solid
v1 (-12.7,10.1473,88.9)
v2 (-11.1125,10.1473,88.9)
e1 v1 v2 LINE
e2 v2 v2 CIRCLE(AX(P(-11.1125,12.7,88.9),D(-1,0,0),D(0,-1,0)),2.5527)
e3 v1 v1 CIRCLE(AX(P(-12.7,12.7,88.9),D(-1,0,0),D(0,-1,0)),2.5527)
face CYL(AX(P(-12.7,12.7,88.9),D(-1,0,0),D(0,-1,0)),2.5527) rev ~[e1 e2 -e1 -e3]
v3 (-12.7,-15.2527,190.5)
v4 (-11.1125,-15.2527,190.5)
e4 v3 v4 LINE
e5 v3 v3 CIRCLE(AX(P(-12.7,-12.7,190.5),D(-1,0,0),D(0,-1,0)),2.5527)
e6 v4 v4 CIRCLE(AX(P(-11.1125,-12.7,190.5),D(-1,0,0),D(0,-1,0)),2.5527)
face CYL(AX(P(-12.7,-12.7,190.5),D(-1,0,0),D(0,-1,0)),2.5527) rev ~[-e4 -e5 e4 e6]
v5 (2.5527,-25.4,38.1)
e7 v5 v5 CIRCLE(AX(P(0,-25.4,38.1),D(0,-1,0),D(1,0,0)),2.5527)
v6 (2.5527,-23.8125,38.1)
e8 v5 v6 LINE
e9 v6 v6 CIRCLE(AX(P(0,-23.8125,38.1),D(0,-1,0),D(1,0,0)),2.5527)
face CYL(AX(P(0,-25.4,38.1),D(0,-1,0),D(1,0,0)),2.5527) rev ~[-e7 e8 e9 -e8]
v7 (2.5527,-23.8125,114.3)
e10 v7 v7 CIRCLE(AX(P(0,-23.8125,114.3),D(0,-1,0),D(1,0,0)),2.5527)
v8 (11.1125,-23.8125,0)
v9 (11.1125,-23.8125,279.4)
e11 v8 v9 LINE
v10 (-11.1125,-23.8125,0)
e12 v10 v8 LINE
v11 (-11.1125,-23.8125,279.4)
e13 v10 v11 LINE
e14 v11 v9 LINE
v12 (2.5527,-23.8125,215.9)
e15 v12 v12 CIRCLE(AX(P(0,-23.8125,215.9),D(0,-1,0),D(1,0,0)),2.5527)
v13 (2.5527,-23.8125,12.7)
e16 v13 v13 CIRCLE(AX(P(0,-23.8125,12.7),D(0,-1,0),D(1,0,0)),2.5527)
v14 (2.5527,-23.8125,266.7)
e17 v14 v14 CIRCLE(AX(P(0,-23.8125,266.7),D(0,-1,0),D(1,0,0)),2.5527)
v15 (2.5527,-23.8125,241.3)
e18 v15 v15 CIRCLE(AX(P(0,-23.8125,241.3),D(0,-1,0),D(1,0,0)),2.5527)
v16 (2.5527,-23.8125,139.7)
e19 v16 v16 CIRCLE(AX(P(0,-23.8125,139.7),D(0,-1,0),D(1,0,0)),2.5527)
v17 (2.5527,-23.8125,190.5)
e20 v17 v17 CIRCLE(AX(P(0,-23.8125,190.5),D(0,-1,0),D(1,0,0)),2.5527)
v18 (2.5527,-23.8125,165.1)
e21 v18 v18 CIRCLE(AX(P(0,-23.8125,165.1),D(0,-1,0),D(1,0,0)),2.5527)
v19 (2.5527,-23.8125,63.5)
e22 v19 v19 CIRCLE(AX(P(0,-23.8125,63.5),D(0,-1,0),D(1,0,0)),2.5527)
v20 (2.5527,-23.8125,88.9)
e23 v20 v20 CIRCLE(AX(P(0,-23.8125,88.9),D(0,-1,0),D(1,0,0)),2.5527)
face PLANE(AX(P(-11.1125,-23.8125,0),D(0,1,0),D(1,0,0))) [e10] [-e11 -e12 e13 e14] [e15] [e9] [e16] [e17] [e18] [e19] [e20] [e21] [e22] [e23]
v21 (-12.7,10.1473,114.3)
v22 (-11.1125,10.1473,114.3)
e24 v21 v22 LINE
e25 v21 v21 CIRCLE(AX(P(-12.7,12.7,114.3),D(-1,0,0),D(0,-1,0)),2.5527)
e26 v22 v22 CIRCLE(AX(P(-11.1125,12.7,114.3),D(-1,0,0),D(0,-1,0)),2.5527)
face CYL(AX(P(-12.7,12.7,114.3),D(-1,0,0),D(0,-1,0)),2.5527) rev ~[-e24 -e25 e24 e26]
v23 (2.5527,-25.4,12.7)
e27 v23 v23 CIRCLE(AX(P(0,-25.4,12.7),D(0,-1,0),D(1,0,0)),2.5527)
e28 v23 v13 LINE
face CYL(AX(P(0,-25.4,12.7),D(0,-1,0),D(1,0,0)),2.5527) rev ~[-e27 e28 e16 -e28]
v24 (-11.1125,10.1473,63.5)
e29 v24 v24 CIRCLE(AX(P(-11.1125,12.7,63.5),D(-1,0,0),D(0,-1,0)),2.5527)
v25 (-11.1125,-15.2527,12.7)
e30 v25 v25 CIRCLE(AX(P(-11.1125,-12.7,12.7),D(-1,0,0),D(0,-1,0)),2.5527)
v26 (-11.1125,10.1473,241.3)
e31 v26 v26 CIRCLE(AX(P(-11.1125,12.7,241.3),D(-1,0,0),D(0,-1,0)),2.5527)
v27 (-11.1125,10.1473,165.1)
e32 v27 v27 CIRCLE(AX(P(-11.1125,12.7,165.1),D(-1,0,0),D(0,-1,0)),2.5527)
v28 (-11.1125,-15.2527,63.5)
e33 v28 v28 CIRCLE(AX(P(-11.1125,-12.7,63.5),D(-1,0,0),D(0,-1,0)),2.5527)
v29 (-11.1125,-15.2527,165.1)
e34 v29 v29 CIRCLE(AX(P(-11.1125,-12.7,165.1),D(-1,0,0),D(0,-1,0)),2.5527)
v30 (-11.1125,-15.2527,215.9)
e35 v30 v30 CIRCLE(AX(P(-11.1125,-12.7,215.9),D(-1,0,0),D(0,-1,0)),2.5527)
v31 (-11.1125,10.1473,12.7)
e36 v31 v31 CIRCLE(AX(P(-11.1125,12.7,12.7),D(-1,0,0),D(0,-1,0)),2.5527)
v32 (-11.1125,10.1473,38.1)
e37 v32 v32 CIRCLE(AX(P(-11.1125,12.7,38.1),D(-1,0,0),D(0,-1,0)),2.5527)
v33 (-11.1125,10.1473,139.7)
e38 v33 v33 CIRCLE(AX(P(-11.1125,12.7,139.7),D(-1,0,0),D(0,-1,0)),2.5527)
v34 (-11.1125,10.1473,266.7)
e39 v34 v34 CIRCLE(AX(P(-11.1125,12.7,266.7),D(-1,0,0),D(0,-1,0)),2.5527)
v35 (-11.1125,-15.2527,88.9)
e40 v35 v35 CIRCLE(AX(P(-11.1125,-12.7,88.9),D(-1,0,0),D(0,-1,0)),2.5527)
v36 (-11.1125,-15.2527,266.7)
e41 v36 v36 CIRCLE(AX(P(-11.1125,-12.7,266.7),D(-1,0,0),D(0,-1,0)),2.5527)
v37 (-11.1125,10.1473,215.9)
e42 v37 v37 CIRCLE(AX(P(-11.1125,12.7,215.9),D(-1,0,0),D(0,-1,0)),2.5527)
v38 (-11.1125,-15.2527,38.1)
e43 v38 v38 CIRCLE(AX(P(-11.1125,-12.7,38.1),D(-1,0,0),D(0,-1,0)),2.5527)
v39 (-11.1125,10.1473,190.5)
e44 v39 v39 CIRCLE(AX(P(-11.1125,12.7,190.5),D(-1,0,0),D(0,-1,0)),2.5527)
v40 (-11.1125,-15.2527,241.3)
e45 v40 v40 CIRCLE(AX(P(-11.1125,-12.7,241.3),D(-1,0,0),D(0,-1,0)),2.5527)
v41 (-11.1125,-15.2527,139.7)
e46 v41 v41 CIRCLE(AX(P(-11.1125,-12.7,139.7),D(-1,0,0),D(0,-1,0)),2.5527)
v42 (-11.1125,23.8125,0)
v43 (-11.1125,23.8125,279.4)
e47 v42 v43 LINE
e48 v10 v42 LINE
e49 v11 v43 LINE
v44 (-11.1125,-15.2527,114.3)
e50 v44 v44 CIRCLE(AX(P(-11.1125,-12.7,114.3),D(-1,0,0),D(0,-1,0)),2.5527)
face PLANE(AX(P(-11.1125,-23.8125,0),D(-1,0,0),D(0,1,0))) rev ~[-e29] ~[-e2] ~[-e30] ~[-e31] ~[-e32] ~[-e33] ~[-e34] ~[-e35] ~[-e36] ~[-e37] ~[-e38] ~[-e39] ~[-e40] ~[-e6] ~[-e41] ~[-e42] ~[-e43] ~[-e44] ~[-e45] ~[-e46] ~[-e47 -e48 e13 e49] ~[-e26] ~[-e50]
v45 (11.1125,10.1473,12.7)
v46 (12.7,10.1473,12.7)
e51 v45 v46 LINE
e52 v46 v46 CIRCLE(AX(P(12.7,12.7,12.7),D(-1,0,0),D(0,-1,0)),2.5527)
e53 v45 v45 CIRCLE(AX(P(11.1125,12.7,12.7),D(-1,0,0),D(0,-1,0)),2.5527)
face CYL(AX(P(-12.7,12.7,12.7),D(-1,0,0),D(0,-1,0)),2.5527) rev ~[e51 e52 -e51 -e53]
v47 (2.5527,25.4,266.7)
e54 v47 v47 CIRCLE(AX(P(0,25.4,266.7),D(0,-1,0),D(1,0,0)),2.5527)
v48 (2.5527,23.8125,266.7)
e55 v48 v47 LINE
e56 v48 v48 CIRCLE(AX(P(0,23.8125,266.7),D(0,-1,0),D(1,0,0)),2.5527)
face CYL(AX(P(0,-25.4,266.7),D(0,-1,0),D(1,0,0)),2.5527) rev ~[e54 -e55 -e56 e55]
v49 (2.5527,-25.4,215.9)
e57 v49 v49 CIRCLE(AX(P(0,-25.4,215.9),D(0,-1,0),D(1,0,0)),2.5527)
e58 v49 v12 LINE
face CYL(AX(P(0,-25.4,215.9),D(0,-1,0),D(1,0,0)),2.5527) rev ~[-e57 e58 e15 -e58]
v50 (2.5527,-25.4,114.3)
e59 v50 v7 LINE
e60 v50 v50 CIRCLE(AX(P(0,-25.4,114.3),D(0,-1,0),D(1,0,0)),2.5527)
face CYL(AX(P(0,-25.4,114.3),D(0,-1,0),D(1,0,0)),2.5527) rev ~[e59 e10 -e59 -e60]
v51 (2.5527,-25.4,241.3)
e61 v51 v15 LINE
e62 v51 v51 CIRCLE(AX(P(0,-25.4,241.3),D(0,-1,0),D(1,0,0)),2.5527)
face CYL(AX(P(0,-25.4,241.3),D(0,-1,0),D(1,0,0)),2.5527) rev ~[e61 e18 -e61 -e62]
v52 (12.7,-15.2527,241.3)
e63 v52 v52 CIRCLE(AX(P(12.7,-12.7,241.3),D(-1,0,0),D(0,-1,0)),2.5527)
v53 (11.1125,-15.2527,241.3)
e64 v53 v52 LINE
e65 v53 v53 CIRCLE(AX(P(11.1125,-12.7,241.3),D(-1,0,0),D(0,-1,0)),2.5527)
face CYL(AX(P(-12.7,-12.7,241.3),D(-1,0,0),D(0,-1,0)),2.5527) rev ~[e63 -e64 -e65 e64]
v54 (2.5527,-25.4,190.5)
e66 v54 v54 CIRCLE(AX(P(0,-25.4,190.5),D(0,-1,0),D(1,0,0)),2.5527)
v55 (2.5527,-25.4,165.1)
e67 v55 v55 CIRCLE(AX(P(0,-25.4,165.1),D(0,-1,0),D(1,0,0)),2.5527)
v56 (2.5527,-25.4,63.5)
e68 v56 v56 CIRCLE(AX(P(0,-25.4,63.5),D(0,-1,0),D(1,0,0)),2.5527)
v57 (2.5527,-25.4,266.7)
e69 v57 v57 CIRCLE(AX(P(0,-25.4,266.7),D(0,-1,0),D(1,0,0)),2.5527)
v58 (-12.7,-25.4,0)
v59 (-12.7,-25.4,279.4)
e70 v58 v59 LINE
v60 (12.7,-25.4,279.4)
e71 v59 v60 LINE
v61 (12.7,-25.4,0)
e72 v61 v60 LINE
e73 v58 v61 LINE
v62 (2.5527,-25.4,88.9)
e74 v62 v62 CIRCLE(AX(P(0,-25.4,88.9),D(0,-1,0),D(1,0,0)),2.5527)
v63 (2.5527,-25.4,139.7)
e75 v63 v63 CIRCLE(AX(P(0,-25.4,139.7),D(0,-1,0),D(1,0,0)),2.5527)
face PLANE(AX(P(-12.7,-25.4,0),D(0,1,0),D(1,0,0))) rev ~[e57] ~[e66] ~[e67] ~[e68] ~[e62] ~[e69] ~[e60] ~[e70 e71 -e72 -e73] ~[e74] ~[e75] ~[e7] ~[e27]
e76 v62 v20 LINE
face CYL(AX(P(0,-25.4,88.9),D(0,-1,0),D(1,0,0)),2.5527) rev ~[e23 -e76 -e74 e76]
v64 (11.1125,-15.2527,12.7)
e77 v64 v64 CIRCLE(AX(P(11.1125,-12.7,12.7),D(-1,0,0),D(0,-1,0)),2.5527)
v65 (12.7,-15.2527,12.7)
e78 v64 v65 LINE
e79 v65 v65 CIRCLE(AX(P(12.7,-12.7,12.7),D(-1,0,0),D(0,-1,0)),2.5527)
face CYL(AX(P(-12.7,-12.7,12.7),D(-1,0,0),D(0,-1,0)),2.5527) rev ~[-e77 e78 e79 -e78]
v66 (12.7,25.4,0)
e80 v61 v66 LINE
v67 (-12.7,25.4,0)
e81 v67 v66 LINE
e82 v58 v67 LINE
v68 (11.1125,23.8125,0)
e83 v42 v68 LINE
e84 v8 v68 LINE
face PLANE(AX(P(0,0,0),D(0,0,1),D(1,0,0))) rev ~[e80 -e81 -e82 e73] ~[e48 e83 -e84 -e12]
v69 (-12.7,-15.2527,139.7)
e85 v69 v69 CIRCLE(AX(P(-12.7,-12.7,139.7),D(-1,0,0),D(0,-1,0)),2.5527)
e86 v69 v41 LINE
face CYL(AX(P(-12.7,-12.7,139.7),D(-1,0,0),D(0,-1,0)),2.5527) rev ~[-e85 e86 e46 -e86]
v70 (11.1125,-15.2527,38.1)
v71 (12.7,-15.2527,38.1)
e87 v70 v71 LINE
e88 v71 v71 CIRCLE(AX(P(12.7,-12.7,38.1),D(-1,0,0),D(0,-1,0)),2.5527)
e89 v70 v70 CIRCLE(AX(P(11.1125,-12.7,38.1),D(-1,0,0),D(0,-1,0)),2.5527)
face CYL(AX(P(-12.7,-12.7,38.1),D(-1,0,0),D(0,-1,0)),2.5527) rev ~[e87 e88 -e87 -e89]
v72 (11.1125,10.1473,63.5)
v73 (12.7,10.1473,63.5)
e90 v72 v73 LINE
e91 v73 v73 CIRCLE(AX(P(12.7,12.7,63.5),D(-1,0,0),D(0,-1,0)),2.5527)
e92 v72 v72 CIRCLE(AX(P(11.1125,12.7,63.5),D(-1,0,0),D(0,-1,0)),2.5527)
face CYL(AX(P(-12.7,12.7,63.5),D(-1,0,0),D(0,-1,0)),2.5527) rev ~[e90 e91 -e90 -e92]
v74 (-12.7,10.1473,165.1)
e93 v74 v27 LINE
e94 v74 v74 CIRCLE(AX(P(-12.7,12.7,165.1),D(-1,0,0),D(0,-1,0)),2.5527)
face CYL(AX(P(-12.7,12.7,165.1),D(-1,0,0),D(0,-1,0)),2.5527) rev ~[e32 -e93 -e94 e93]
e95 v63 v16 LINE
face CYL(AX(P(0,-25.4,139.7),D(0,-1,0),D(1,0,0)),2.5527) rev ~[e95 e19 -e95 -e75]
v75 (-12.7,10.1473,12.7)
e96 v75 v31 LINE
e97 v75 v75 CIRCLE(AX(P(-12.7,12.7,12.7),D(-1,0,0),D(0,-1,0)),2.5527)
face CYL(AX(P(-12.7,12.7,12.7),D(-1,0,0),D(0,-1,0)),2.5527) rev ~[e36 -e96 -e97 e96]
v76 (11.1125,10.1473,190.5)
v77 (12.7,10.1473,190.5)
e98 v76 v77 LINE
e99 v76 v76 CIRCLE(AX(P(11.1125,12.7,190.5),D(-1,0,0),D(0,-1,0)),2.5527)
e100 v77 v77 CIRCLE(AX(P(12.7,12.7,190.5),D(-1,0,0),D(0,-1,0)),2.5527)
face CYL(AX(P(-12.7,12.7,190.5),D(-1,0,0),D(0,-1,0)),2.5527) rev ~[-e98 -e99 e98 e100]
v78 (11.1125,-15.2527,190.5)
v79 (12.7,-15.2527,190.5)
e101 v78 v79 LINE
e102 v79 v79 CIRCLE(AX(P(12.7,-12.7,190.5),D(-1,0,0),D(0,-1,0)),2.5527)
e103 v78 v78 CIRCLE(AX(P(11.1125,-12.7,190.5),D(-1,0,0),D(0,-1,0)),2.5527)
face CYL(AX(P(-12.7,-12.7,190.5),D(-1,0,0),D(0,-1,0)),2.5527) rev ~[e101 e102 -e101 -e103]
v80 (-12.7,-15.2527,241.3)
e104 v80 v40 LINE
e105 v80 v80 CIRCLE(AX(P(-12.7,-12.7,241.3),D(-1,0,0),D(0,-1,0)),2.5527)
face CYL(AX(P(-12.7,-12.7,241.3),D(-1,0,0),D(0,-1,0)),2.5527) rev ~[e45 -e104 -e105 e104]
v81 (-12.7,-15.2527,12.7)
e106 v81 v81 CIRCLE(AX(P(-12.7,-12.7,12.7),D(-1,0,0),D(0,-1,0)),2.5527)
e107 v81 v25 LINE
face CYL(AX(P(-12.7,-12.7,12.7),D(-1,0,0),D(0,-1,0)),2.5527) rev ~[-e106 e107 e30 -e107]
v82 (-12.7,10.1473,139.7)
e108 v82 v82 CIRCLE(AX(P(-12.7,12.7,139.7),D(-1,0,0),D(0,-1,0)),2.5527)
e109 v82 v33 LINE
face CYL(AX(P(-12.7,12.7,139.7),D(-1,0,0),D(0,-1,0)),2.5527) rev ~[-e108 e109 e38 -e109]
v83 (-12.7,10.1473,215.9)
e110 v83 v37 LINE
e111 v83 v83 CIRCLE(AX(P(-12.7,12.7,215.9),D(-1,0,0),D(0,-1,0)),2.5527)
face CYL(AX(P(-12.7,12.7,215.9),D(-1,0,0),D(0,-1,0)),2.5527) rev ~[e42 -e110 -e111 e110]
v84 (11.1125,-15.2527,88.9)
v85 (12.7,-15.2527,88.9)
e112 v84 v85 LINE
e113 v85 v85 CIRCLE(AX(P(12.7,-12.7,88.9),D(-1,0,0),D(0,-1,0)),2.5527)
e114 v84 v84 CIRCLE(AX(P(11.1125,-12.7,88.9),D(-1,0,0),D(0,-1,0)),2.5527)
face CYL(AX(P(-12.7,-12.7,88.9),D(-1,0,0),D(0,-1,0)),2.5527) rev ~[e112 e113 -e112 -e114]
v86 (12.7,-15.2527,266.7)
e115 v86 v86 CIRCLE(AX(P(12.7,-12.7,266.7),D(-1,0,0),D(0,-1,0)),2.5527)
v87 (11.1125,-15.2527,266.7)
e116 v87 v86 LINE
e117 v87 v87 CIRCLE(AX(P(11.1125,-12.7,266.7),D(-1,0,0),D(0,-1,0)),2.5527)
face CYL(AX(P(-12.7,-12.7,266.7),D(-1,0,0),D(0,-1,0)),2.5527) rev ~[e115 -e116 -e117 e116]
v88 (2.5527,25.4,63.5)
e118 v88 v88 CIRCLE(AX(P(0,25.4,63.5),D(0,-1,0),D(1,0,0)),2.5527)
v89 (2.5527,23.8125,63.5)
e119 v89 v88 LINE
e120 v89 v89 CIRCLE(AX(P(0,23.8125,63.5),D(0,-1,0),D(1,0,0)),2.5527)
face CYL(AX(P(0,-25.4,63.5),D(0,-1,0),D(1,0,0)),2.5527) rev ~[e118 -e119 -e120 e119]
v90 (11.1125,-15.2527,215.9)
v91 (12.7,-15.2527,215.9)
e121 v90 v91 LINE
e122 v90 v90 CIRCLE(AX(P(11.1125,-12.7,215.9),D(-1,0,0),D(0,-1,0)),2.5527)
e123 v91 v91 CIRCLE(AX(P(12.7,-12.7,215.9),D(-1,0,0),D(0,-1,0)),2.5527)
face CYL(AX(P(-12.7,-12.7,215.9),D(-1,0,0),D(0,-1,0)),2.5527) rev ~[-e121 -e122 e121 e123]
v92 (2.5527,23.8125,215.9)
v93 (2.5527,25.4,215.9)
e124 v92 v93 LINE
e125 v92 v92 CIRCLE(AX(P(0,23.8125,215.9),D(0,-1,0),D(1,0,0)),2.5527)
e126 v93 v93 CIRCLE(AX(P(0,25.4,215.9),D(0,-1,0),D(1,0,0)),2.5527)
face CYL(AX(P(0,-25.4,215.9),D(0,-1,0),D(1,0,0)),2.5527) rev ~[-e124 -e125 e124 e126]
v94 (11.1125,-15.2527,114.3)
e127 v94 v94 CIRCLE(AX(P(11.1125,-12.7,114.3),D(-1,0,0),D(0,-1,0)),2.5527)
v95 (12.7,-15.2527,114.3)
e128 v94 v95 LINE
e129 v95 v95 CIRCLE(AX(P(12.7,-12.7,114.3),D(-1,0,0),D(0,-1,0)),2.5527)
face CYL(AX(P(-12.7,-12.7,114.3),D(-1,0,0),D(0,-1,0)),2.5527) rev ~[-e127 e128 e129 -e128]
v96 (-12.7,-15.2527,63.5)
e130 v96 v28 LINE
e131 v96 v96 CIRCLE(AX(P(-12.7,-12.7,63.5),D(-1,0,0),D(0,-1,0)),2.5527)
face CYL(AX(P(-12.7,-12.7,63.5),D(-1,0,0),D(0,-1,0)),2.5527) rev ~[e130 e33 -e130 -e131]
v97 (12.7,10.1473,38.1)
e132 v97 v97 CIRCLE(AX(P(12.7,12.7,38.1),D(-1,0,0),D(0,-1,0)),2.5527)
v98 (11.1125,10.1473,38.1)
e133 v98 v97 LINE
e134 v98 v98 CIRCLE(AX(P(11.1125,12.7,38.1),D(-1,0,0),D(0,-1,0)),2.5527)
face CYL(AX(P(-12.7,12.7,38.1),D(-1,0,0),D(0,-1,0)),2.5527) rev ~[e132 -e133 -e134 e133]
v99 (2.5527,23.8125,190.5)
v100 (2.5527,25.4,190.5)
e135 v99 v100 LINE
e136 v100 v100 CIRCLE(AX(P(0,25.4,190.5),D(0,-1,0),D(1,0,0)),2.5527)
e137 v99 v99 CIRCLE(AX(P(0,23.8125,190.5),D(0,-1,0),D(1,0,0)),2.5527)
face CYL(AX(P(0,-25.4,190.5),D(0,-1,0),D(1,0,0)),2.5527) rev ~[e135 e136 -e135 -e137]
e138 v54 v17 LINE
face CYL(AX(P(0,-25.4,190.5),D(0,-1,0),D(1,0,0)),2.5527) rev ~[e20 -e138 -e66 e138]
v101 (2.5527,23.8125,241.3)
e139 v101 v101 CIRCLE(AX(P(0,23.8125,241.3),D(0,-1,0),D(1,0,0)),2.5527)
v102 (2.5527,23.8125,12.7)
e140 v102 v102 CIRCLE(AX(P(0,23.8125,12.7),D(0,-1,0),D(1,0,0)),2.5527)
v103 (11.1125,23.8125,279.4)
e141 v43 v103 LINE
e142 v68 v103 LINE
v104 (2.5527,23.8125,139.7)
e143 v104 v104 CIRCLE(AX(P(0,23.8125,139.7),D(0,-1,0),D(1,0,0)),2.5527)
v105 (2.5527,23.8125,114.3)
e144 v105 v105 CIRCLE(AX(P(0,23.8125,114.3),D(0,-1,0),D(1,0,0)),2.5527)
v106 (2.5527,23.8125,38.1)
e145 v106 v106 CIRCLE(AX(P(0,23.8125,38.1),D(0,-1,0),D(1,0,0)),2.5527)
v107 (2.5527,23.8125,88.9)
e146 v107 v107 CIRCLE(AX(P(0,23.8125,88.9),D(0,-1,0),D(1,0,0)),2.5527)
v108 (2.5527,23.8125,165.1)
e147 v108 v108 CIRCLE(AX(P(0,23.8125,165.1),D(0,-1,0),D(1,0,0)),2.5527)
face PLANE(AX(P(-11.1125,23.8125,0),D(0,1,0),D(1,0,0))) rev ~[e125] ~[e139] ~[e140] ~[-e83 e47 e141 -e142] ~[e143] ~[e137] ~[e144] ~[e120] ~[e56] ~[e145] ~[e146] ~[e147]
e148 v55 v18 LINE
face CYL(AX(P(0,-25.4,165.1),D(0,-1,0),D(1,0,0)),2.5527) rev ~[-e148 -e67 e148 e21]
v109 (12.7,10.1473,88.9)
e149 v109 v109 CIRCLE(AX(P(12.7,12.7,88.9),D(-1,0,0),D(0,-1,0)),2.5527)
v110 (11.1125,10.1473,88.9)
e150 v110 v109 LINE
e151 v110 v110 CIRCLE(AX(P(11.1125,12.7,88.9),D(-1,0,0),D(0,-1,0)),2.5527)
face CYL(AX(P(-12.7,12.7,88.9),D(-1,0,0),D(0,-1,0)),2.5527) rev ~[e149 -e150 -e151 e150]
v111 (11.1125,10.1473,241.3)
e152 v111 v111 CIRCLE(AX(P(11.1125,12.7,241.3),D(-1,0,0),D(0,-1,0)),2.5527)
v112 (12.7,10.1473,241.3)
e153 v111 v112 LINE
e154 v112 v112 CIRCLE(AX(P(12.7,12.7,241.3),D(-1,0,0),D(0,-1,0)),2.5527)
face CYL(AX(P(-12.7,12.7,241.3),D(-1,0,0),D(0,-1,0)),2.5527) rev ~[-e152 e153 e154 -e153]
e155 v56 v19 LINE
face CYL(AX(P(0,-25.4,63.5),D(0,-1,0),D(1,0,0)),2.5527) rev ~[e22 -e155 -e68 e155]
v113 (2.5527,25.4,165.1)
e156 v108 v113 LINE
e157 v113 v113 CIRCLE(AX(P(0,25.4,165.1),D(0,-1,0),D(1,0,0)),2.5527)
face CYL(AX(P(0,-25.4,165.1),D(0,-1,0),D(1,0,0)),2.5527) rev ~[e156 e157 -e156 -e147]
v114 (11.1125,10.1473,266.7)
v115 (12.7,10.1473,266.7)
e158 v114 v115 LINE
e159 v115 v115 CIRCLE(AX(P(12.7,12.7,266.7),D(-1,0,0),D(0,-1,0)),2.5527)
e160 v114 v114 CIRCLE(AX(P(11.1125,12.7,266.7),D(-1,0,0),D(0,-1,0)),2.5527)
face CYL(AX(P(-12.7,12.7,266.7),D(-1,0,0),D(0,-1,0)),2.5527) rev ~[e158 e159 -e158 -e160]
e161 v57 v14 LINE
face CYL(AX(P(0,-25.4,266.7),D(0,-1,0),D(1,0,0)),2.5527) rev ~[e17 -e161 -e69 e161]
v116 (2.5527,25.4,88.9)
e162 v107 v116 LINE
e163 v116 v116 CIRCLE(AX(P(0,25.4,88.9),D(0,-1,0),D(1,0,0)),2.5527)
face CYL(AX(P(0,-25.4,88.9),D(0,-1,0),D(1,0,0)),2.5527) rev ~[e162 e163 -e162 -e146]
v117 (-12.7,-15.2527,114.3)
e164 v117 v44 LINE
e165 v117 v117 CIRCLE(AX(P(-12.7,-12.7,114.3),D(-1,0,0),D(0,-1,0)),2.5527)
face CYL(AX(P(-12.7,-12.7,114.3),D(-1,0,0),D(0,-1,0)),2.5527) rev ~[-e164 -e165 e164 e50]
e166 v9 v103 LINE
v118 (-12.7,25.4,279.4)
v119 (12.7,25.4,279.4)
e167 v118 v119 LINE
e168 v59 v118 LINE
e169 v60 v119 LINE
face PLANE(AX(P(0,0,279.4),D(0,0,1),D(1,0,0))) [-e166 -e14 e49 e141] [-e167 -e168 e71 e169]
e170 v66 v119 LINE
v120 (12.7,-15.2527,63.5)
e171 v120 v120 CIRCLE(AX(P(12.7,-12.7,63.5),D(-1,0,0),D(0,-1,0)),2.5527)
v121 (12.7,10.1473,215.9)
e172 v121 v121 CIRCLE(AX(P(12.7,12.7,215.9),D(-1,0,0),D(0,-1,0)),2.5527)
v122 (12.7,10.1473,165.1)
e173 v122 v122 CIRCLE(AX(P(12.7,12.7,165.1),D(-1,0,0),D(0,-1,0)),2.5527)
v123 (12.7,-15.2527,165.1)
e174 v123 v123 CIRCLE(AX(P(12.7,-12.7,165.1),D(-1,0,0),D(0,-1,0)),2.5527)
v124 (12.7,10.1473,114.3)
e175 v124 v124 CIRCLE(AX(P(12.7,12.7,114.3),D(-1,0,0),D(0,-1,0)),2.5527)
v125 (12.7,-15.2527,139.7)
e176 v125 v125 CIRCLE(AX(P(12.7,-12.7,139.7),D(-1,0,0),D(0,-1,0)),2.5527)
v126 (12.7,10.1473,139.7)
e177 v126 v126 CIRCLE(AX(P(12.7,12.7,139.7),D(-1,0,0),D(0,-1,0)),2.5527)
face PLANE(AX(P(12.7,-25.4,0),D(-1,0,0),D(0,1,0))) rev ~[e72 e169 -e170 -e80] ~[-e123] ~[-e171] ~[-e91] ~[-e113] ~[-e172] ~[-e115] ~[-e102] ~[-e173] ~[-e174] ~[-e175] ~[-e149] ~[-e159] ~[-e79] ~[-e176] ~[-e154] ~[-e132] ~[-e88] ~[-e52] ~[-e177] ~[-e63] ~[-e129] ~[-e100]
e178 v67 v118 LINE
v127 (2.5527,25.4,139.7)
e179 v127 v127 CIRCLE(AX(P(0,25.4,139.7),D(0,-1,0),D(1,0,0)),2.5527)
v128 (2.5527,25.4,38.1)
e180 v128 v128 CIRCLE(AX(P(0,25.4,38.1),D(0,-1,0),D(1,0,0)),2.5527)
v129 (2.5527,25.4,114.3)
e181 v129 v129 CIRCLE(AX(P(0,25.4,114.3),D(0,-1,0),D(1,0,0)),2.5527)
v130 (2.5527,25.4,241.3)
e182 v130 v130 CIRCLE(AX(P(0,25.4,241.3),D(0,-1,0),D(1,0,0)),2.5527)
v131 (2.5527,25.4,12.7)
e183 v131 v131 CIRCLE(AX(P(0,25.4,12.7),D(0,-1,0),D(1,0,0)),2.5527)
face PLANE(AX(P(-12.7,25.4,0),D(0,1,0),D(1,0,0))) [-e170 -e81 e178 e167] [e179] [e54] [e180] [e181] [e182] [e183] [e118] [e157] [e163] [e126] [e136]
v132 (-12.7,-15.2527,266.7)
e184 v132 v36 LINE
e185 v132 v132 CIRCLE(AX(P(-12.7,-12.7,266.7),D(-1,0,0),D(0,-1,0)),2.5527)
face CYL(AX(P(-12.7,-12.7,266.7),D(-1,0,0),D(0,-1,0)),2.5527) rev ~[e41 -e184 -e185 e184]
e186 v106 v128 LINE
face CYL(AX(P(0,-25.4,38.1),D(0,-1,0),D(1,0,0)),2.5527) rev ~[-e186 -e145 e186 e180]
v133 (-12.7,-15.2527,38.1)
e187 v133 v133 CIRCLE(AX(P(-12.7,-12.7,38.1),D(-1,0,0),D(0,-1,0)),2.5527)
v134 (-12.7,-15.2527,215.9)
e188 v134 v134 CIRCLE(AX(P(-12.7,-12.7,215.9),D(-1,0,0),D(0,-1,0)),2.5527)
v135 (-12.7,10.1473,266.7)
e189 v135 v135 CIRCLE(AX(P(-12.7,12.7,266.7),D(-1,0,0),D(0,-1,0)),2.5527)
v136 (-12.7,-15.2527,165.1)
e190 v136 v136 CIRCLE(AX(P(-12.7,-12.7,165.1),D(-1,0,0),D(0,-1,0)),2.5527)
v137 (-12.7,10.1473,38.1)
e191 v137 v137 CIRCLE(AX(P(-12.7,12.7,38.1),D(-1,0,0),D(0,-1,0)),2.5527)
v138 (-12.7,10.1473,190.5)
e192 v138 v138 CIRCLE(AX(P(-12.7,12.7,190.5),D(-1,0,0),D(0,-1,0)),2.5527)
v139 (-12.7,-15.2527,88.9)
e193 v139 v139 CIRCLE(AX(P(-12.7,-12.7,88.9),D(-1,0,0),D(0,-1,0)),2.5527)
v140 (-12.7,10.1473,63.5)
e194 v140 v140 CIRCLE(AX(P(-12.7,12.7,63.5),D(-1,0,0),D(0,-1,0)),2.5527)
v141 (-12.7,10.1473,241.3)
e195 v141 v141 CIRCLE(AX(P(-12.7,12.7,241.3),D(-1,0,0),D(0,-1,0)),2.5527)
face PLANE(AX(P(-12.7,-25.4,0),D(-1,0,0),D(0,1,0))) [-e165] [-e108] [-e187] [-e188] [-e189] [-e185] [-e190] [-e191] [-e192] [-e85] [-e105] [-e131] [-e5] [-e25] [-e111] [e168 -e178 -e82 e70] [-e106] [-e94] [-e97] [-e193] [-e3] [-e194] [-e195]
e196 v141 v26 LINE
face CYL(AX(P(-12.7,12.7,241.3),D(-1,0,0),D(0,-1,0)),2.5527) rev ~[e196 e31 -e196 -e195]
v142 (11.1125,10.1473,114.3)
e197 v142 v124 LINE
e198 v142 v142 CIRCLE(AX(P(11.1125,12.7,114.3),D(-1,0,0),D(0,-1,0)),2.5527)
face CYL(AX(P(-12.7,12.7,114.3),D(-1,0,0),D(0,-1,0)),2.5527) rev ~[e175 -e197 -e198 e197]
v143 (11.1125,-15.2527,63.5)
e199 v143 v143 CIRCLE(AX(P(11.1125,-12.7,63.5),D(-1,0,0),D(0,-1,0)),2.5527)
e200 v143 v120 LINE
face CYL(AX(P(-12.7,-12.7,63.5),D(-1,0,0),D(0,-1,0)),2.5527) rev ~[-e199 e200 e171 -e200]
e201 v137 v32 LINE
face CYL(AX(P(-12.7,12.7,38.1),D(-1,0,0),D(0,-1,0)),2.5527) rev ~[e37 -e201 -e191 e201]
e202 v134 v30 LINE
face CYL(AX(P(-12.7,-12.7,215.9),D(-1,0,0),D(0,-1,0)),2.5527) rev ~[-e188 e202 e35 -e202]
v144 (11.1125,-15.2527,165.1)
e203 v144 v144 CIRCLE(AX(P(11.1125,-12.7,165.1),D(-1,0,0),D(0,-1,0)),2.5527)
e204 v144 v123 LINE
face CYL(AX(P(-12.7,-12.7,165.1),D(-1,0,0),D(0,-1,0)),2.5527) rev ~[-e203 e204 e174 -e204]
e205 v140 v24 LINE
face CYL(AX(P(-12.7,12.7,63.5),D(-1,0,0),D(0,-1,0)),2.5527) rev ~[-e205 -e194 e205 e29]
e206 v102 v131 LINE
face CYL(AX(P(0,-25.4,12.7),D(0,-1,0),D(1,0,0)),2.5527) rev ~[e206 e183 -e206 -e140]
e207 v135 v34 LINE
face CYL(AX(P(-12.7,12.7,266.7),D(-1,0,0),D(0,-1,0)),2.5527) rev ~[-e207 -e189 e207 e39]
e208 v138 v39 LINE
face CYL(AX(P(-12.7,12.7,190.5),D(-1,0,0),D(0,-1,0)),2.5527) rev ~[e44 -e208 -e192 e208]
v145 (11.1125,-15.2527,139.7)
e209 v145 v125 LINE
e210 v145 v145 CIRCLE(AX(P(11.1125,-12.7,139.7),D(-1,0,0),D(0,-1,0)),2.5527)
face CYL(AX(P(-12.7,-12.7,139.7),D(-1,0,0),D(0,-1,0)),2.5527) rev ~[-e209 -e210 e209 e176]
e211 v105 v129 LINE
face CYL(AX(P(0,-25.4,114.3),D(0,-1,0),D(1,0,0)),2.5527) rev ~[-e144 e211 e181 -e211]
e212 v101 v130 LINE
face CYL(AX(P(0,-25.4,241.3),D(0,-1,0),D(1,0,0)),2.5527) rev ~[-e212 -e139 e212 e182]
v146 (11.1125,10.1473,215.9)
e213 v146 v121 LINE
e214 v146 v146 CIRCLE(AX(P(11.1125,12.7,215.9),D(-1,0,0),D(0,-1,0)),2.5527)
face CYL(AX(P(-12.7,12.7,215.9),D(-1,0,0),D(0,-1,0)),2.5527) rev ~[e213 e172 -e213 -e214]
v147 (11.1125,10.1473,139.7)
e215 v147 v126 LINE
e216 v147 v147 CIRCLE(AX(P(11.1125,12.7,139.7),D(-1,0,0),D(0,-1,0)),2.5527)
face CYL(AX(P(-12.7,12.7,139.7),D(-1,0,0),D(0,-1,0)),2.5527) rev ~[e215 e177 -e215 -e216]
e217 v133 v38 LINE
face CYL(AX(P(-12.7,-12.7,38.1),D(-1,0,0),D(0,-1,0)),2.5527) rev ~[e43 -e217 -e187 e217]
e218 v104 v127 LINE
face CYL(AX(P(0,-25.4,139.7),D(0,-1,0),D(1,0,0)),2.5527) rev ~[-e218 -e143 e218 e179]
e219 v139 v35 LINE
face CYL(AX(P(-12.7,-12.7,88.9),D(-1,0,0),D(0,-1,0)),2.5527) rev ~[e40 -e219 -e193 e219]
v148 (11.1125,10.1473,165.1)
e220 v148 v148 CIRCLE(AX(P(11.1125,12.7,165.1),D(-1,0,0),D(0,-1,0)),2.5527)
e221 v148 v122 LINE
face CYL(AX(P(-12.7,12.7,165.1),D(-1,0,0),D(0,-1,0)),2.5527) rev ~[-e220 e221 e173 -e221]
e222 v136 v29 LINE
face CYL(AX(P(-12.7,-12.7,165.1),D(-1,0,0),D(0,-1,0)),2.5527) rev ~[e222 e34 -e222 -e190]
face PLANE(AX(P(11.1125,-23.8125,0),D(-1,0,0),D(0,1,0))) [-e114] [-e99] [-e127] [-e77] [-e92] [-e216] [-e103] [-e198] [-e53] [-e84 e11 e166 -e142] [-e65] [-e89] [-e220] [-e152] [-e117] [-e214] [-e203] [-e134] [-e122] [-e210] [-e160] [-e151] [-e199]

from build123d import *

# Parameters (mm, degrees)
F0_W     = 25.4
F0_H     = 50.8
F0_W_2   = 22.225
F0_H_2   = 47.625
F1_DEPTH = 279.4
F2_R     = 2.5527
F3_DEPTH = 50.801
F4_R     = 2.5527
F5_DEPTH = 25.401


with BuildPart() as f1:
    # F0 (on Top) → F1 (new body)
    with BuildSketch(Plane.XY):
        Rectangle(F0_W, F0_H)
        Rectangle(F0_W_2, F0_H_2, mode=Mode.SUBTRACT)
    extrude(amount=F1_DEPTH)

    # F2 (on face) → F3 (cut, through all)
    with BuildSketch(Plane.XZ.offset(25.4)):
        with Locations((0, 266.7)):
            Circle(F2_R)
        with Locations((0, 241.3)):
            Circle(F2_R)
        with Locations((0, 215.9)):
            Circle(F2_R)
        with Locations((0, 190.5)):
            Circle(F2_R)
        with Locations((0, 165.1)):
            Circle(F2_R)
        with Locations((0, 139.7)):
            Circle(F2_R)
        with Locations((0, 114.3)):
            Circle(F2_R)
        with Locations((0, 88.9)):
            Circle(F2_R)
        with Locations((0, 63.5)):
            Circle(F2_R)
        with Locations((0, 38.1)):
            Circle(F2_R)
        with Locations((0, 12.7)):
            Circle(F2_R)
    extrude(amount=-F3_DEPTH, mode=Mode.SUBTRACT)

    # F4 (on face) → F5 (cut, through all)
    with BuildSketch(Plane(origin=(-12.7, 0, 0), x_dir=(0, -1, 0), z_dir=(-1, 0, 0))):
        with Locations((-12.7, 12.7)):
            Circle(F4_R)
        with Locations((12.7, 12.7)):
            Circle(F4_R)
        with Locations((-12.7, 38.1)):
            Circle(F4_R)
        with Locations((-12.7, 63.5)):
            Circle(F4_R)
        with Locations((-12.7, 88.9)):
            Circle(F4_R)
        with Locations((-12.7, 114.3)):
            Circle(F4_R)
        with Locations((-12.7, 139.7)):
            Circle(F4_R)
        with Locations((-12.7, 165.1)):
            Circle(F4_R)
        with Locations((-12.7, 190.5)):
            Circle(F4_R)
        with Locations((-12.7, 215.9)):
            Circle(F4_R)
        with Locations((-12.7, 241.3)):
            Circle(F4_R)
        with Locations((-12.7, 266.7)):
            Circle(F4_R)
        with Locations((12.7, 38.1)):
            Circle(F4_R)
        with Locations((12.7, 63.5)):
            Circle(F4_R)
        with Locations((12.7, 88.9)):
            Circle(F4_R)
        with Locations((12.7, 114.3)):
            Circle(F4_R)
        with Locations((12.7, 139.7)):
            Circle(F4_R)
        with Locations((12.7, 165.1)):
            Circle(F4_R)
        with Locations((12.7, 190.5)):
            Circle(F4_R)
        with Locations((12.7, 215.9)):
            Circle(F4_R)
        with Locations((12.7, 241.3)):
            Circle(F4_R)
        with Locations((12.7, 266.7)):
            Circle(F4_R)
    extrude(amount=-F5_DEPTH, mode=Mode.SUBTRACT)


solid = f1.part
